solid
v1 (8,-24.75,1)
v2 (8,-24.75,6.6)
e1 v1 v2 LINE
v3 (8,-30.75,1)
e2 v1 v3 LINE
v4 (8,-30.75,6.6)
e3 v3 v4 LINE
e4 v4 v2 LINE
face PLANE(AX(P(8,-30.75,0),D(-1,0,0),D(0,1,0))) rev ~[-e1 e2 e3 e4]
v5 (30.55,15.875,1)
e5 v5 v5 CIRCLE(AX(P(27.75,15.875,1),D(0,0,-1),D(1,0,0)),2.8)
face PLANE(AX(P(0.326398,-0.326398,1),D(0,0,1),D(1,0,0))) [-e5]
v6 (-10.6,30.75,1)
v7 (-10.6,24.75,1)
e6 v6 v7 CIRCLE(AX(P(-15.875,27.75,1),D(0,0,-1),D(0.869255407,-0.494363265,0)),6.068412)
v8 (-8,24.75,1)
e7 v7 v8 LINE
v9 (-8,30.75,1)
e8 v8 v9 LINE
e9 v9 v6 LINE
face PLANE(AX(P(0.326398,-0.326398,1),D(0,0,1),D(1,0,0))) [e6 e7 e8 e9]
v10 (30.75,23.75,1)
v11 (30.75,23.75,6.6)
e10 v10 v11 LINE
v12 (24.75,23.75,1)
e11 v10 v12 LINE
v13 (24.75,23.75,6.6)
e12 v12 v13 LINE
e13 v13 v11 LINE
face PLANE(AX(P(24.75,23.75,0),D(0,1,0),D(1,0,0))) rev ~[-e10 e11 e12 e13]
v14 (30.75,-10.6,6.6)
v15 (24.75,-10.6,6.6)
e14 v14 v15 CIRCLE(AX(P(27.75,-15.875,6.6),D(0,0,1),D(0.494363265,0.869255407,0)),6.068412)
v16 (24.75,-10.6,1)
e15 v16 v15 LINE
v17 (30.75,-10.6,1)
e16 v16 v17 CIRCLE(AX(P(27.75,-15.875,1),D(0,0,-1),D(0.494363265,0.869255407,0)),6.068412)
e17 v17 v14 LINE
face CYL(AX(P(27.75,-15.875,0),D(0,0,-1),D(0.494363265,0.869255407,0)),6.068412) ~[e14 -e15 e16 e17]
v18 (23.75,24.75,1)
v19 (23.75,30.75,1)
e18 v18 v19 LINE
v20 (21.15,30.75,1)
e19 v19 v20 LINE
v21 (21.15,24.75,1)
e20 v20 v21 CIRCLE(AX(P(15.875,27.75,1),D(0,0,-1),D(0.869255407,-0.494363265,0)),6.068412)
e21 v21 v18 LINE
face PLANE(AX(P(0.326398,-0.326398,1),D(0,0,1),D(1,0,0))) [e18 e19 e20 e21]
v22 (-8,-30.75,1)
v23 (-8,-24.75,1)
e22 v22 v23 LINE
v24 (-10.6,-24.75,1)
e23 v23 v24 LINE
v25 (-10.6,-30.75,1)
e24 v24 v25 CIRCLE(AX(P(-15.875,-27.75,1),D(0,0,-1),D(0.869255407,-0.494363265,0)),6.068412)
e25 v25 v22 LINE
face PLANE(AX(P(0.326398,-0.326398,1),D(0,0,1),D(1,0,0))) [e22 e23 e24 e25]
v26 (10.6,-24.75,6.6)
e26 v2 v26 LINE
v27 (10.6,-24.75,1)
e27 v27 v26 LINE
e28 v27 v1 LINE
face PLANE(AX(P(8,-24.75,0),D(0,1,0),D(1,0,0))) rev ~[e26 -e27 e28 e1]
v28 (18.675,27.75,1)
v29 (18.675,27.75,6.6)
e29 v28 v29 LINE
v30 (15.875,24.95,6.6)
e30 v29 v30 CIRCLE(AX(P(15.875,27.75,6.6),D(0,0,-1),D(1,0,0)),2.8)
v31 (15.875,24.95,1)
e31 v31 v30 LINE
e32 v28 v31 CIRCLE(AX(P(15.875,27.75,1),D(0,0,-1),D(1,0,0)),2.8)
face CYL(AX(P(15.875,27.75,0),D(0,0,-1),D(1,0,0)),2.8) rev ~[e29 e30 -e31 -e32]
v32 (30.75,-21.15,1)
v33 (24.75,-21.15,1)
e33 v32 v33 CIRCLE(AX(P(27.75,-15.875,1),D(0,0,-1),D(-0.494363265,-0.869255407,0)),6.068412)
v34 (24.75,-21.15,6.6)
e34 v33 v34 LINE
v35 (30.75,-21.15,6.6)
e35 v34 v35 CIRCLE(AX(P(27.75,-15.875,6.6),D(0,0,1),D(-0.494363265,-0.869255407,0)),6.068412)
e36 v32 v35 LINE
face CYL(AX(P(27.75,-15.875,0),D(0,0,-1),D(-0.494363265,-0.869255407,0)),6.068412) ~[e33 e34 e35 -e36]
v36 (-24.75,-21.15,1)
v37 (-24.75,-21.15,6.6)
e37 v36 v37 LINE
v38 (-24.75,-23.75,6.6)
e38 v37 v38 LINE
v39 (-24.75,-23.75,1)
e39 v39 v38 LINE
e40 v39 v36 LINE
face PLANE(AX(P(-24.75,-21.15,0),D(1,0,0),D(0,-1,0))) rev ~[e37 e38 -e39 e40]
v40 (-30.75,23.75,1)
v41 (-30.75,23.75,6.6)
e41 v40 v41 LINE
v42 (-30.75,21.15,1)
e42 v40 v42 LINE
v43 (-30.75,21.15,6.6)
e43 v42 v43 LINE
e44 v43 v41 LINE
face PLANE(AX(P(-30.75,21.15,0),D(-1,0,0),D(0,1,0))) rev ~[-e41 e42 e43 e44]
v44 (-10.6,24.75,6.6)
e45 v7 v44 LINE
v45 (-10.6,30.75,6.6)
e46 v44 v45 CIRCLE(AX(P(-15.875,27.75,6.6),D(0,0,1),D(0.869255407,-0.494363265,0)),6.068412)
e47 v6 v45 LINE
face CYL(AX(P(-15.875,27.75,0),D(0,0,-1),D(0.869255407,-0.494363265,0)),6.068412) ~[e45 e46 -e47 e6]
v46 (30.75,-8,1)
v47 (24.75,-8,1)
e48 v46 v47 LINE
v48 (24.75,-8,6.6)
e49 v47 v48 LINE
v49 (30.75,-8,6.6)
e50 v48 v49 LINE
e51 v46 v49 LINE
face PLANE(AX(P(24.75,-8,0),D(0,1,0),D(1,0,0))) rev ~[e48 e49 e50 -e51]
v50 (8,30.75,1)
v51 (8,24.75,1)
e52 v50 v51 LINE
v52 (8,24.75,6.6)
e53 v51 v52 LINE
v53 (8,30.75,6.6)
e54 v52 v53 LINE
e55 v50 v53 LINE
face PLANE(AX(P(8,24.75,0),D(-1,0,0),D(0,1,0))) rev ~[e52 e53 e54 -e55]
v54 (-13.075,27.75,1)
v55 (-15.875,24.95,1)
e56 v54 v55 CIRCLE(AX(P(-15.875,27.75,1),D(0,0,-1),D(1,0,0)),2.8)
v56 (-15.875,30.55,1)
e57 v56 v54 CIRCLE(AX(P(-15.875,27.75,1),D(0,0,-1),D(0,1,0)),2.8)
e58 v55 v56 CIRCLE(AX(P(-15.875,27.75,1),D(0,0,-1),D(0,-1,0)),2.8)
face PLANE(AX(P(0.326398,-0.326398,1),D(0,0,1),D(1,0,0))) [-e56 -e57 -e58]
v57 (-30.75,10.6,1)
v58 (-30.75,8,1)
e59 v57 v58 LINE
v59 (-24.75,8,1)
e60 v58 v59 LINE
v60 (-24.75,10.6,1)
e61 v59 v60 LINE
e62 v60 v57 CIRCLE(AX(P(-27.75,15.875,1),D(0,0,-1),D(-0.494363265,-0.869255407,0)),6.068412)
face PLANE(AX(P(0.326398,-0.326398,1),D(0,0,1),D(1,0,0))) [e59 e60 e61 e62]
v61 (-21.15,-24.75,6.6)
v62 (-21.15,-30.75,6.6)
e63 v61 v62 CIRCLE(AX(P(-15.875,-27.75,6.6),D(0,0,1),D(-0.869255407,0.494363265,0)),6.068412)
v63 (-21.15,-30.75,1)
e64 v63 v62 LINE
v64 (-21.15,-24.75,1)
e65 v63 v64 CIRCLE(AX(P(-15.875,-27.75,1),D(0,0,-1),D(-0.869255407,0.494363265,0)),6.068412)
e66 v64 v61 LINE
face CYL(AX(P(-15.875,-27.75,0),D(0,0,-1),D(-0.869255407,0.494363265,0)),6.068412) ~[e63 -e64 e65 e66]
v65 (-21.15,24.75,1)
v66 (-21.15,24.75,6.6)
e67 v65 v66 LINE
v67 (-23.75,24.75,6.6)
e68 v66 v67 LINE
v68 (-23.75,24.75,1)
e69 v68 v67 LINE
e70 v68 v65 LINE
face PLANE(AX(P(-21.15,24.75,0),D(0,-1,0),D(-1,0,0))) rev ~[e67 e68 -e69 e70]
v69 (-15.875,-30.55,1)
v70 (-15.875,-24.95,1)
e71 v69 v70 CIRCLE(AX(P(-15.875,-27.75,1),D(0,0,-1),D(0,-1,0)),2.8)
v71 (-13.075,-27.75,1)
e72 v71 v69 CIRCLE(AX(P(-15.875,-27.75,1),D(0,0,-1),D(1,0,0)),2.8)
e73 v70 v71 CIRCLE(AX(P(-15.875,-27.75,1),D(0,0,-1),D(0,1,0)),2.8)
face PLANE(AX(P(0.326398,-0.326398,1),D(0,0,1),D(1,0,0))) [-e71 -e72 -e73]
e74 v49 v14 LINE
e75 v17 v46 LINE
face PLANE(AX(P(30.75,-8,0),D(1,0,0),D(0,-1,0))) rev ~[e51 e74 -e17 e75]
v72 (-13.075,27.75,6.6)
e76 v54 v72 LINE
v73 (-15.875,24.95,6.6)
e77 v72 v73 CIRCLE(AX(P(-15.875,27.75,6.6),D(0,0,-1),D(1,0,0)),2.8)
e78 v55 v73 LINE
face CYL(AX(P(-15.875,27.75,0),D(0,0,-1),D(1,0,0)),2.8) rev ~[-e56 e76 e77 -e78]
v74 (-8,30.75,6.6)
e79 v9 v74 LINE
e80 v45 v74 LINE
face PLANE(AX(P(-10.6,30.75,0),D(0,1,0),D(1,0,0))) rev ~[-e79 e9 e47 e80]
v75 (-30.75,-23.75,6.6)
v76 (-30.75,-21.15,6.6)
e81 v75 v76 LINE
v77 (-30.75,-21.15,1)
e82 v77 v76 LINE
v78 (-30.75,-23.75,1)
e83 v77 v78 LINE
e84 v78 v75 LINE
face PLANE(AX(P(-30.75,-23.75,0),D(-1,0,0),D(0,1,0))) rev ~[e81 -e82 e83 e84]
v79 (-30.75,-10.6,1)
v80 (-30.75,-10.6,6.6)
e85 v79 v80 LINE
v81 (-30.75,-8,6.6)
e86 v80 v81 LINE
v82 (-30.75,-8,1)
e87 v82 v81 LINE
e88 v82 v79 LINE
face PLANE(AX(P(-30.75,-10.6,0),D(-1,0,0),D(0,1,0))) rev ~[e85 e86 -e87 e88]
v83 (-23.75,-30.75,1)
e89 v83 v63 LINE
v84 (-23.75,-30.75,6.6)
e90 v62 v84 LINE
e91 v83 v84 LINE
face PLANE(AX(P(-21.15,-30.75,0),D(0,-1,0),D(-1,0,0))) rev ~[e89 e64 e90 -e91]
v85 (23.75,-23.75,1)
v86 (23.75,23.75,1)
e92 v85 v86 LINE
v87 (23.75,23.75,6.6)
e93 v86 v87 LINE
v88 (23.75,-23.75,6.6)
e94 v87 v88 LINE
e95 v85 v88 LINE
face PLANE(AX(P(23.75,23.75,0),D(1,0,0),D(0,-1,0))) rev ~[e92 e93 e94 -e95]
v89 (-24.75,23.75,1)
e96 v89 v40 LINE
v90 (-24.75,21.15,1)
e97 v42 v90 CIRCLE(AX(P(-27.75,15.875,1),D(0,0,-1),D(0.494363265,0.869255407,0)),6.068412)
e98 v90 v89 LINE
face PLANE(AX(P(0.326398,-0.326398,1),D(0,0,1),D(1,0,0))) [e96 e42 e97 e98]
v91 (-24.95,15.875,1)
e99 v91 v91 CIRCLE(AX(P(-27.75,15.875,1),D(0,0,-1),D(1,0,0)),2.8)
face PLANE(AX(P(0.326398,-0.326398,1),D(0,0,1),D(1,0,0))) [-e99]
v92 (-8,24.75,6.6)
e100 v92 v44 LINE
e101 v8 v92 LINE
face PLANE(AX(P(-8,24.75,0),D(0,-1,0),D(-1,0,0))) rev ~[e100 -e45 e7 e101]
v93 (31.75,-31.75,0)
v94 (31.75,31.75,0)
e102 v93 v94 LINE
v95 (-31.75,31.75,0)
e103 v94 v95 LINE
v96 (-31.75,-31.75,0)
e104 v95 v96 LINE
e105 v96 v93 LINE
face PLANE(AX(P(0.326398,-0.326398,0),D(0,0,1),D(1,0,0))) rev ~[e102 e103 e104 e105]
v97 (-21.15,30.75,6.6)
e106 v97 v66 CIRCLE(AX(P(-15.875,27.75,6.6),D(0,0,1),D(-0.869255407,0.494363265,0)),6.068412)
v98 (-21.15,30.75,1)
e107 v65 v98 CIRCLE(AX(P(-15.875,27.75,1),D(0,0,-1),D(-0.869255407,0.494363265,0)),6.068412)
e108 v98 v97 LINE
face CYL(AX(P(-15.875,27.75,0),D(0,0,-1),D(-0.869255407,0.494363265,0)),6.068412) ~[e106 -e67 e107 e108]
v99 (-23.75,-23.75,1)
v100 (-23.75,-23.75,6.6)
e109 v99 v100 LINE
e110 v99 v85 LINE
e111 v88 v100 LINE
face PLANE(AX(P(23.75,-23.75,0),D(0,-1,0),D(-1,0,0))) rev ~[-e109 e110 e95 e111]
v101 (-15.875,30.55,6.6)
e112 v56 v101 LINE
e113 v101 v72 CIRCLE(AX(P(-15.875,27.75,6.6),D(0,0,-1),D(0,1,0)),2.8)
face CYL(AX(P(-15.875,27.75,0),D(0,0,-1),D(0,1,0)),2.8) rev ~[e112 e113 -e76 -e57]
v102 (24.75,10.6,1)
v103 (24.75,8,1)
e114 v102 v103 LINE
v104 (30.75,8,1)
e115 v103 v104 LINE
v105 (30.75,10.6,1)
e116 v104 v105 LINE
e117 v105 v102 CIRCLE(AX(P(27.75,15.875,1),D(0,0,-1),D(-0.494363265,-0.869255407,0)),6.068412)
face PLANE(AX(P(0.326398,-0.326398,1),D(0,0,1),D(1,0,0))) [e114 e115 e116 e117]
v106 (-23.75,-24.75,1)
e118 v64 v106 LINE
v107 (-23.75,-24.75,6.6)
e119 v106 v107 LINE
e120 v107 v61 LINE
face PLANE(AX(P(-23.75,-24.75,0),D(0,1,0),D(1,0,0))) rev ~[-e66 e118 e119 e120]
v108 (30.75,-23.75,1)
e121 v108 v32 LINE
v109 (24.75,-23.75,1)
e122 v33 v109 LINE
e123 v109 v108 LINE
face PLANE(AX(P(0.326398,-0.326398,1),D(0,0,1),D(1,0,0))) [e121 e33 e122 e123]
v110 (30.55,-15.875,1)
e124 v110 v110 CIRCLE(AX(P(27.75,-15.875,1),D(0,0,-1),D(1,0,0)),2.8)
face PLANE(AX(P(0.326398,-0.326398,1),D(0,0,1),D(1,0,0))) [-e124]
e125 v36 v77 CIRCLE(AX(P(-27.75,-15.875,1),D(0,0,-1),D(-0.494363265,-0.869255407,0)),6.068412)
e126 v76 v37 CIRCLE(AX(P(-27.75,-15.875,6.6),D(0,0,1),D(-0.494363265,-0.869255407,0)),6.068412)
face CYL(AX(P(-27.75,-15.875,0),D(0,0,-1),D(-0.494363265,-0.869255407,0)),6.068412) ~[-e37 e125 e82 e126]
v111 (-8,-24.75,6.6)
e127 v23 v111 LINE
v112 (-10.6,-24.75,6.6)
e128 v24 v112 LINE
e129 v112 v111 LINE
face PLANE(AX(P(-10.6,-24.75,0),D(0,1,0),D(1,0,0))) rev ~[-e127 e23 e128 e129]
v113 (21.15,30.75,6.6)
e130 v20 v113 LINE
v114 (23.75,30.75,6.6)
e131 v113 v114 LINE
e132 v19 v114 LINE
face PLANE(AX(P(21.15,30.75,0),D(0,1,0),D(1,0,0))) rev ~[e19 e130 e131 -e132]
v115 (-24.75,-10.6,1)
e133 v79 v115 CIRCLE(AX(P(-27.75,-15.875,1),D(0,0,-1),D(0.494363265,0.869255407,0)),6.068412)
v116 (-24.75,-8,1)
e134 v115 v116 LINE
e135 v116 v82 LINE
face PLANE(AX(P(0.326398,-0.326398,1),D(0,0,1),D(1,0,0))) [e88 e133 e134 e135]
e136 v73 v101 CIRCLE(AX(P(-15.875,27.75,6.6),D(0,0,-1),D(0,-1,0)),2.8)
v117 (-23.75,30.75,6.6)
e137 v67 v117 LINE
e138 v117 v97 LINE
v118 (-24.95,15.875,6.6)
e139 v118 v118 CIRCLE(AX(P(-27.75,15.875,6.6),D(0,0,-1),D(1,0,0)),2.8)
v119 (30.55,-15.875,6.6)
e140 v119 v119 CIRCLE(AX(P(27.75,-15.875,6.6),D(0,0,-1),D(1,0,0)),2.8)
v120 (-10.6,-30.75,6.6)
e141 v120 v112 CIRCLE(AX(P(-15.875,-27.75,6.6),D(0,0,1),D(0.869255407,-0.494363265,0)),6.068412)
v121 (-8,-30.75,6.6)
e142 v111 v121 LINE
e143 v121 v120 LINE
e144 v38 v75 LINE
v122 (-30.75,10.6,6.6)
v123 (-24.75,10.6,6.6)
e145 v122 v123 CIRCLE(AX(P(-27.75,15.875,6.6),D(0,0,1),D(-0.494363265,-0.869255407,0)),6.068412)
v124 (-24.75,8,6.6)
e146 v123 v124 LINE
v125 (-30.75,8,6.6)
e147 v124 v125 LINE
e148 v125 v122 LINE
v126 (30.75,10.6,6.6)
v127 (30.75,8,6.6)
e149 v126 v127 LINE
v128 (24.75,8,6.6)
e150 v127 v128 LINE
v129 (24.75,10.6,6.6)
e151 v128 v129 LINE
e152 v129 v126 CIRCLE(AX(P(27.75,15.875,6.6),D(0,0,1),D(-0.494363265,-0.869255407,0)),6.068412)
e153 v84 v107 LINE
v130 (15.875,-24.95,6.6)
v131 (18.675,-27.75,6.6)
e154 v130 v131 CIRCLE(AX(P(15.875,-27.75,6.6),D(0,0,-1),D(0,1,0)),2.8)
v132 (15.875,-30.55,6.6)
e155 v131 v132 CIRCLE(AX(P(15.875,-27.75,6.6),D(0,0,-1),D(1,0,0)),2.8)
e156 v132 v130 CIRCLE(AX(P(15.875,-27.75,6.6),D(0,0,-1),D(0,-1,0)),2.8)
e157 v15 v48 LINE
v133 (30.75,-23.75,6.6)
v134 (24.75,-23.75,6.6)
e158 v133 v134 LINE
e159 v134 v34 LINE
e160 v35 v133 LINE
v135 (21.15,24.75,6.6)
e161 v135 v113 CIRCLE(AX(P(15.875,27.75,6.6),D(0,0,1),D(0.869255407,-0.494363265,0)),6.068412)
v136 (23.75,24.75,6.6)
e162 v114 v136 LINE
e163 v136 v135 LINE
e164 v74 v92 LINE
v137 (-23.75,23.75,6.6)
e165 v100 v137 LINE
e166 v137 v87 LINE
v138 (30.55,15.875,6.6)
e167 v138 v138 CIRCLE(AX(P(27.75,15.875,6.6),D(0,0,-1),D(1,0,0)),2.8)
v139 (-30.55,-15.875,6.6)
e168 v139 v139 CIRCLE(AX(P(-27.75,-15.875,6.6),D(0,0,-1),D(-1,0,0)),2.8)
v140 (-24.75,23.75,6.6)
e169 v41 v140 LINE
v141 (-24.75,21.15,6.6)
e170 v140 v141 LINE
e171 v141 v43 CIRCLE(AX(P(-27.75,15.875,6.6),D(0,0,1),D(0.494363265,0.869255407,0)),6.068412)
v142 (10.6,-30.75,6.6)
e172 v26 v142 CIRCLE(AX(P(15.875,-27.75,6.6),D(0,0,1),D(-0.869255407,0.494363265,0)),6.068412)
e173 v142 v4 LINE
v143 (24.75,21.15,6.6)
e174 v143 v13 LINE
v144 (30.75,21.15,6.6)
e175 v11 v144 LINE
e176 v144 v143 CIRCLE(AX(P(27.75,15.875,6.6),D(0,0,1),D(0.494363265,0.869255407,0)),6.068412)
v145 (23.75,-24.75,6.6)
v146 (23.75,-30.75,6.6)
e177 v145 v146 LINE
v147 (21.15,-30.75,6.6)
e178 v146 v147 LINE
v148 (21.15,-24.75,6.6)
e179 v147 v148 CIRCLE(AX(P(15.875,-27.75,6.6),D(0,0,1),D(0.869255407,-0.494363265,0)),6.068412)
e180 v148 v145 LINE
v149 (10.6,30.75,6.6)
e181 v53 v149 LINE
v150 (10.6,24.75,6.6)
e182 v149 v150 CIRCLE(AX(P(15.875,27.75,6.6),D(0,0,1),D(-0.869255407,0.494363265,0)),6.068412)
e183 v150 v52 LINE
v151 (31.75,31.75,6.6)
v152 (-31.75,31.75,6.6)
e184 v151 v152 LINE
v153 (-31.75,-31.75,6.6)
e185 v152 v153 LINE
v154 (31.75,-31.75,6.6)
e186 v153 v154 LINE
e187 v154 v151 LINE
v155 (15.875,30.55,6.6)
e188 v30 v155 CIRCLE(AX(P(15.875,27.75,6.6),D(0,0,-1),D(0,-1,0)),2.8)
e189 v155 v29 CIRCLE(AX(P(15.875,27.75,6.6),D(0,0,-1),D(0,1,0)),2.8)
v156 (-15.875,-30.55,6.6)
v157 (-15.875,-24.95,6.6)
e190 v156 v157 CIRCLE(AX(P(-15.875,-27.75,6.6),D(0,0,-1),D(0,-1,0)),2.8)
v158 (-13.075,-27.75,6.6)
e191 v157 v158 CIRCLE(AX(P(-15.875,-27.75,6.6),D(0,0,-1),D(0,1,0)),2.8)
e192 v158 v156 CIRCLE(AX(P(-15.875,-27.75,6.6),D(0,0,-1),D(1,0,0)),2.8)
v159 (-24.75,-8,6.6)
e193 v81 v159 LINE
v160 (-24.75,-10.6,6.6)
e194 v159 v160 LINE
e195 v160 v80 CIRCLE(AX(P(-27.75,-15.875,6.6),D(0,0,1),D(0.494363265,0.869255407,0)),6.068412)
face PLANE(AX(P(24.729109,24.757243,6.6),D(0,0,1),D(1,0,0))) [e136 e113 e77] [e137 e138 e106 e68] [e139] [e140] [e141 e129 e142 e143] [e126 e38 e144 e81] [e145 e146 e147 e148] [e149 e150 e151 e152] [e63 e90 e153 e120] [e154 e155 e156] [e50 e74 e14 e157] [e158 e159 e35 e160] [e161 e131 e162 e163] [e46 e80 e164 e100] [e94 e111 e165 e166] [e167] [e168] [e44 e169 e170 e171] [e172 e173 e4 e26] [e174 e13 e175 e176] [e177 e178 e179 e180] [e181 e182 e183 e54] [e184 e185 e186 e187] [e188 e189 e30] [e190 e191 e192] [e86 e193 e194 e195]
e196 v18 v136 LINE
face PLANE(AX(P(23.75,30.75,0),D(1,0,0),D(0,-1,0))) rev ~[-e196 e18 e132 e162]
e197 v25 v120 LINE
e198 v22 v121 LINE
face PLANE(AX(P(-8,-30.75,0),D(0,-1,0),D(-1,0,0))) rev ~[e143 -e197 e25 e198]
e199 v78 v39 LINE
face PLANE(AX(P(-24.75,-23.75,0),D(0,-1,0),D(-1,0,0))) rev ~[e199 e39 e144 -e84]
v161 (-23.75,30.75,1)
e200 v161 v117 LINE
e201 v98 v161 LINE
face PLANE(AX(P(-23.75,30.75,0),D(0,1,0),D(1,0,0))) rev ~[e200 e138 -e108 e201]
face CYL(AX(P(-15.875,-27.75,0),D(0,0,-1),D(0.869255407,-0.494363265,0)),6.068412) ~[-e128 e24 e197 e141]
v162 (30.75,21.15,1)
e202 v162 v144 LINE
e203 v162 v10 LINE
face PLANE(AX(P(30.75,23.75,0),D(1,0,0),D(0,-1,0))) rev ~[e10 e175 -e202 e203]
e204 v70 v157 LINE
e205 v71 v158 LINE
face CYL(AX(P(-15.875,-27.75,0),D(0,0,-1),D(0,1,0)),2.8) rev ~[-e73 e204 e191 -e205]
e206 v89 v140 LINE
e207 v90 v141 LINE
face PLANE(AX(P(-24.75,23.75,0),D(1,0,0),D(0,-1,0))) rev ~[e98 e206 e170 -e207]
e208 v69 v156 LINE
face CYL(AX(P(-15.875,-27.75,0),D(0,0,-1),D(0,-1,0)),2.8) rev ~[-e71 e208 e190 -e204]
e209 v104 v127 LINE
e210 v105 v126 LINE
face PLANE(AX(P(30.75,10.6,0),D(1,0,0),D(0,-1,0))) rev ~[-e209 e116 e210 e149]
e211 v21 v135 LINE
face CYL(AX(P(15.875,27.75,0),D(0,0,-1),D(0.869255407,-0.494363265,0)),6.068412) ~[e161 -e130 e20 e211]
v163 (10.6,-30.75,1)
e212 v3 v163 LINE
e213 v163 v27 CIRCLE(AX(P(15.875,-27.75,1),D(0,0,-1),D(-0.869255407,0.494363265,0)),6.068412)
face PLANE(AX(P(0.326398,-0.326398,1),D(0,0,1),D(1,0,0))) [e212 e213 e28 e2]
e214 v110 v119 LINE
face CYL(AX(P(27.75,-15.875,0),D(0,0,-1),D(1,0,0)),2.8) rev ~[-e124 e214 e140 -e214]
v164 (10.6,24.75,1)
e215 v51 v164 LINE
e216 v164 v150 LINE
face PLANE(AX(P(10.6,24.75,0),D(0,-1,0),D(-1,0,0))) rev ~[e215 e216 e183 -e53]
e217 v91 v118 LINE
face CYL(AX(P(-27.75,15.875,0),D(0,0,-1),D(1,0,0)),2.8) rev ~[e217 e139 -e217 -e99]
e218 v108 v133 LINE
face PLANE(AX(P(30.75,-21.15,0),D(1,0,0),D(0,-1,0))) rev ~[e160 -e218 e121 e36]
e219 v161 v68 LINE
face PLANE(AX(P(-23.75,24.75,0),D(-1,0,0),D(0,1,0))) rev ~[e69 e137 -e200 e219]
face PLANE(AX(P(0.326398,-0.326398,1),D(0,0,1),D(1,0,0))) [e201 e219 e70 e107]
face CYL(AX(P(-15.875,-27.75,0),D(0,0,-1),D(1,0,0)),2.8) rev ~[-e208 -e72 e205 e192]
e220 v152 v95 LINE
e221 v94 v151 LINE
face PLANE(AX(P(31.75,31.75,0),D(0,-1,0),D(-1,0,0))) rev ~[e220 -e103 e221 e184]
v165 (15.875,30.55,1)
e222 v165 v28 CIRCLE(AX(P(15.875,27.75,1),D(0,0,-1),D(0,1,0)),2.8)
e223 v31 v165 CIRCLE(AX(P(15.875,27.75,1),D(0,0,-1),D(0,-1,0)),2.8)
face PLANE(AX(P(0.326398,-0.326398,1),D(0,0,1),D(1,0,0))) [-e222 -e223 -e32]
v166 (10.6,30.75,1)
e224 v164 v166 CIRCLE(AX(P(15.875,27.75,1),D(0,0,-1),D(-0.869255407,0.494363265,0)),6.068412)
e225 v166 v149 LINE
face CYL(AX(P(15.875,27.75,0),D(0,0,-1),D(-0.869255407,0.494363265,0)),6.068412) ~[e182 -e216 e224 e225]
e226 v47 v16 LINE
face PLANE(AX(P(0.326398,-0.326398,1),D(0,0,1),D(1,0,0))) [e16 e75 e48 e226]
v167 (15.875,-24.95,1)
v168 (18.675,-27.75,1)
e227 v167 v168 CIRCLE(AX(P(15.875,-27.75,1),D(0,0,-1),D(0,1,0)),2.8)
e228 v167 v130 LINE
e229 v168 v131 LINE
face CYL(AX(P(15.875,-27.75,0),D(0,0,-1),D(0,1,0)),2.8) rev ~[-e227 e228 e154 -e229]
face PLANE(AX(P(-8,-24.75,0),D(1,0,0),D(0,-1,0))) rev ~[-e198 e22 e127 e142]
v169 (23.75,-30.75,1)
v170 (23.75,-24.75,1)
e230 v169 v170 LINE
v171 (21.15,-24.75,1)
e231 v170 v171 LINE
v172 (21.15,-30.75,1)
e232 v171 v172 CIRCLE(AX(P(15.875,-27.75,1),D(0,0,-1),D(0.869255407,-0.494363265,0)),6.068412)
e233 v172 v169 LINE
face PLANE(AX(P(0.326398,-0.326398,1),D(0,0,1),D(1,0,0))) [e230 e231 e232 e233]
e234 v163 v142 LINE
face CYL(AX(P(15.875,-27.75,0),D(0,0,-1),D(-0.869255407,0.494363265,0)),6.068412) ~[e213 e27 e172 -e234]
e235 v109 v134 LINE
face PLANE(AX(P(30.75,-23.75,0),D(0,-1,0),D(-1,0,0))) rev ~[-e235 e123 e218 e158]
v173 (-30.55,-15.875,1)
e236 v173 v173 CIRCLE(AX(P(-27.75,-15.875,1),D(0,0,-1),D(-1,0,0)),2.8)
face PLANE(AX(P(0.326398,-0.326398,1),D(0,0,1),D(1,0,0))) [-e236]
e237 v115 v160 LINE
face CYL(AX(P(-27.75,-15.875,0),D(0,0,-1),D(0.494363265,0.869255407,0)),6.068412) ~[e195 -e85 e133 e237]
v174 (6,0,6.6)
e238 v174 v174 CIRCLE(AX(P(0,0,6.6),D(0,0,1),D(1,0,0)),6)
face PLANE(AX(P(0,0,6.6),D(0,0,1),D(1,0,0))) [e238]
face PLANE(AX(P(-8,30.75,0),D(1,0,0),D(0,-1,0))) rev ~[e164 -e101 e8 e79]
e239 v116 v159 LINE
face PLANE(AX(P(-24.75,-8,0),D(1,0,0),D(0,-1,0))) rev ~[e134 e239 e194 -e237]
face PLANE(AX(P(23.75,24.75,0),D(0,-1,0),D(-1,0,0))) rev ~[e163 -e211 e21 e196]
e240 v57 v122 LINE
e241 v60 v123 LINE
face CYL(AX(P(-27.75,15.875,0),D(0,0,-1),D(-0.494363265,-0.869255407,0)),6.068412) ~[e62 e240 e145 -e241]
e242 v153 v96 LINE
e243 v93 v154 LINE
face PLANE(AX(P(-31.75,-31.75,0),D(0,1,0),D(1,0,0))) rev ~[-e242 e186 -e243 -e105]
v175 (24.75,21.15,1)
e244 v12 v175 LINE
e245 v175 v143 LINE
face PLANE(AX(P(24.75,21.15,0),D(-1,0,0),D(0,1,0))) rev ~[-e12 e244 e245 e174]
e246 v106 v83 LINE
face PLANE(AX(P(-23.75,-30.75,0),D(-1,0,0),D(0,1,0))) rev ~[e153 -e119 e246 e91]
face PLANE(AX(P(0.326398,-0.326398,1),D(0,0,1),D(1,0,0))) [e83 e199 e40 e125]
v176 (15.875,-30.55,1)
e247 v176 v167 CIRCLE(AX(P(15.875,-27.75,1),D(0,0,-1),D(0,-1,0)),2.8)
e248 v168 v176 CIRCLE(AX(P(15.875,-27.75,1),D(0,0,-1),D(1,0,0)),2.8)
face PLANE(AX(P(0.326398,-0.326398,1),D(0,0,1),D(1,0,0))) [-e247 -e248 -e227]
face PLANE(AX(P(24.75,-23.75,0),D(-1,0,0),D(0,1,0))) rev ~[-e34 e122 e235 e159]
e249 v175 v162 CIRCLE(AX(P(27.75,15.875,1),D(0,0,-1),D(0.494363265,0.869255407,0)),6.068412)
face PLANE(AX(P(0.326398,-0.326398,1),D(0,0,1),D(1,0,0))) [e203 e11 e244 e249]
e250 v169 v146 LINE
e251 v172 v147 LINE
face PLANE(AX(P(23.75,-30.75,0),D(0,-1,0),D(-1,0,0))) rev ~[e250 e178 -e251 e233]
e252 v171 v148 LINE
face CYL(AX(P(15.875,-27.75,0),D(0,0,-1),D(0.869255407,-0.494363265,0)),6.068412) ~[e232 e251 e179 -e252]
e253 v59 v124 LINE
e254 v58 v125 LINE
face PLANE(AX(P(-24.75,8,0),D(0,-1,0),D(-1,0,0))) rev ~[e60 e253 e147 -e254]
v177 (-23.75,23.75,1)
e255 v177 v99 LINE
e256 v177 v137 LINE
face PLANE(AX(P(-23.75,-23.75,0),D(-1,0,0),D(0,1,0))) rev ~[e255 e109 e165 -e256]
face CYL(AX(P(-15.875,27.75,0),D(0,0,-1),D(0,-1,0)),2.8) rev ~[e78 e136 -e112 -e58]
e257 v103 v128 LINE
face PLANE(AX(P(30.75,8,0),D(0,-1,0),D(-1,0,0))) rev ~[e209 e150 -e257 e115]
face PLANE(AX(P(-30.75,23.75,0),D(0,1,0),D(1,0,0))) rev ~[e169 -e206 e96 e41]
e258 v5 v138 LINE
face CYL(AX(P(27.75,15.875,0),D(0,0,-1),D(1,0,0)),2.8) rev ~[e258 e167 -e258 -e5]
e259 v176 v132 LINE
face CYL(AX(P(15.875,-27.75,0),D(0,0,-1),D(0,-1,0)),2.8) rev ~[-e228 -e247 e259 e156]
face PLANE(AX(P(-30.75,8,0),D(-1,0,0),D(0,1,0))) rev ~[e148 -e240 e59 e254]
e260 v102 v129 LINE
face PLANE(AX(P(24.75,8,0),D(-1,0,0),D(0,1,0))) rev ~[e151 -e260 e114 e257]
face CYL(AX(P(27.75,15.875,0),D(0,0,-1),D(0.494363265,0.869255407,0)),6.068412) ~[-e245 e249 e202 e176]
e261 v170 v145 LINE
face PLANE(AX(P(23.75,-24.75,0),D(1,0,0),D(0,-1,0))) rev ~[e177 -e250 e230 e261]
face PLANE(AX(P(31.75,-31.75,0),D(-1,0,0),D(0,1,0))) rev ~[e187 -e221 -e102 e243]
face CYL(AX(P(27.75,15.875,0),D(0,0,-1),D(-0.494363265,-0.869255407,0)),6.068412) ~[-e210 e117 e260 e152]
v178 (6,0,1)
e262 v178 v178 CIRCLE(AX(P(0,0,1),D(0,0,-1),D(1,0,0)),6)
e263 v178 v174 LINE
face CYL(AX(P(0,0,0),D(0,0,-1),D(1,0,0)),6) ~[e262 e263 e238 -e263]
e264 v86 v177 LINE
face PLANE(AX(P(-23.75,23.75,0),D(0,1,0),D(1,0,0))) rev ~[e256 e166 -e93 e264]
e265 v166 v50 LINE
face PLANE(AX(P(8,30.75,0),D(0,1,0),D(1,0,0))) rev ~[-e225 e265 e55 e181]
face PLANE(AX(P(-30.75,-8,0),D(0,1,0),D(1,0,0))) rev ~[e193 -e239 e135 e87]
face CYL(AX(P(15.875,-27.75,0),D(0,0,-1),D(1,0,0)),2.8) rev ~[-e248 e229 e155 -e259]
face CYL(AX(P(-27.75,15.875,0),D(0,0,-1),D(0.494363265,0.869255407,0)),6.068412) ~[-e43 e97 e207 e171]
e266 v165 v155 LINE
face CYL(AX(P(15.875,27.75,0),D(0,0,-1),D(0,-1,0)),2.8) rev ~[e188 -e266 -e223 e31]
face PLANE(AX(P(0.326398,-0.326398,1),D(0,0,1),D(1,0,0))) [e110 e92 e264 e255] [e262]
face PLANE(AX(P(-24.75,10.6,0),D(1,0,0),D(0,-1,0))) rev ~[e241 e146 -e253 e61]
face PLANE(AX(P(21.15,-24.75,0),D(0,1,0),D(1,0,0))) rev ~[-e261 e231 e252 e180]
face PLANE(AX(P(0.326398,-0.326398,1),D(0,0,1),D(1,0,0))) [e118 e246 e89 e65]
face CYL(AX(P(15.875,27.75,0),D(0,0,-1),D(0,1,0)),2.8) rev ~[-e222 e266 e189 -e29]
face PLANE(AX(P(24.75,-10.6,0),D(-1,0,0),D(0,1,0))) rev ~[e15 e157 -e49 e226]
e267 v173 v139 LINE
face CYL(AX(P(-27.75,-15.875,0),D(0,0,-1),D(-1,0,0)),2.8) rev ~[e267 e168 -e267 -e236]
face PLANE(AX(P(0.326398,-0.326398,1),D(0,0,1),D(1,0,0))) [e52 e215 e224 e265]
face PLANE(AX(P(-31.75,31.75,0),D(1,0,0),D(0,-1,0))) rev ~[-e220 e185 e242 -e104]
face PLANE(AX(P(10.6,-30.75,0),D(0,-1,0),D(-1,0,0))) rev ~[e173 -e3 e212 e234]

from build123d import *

# Parameters (mm, degrees)
F0_R     = 6
F0_W     = 7.875
F0_H     = 7.875
F1_DEPTH = 1
F2_DEPTH = 6.6


with BuildPart() as f1:
    # F0 (on Top) → F1 (new body)
    with BuildSketch(Plane.XY):
        Polygon((15.875, 23.75), (0, 23.75), (-15.875, 23.75), (-15.875, 15.875), (-23.75, 15.875), (-23.75, -15.875), (-23.75, -23.75), (-15.875, -23.75), (15.875, -23.75), (23.75, -23.75), (23.75, -15.875), (23.75, 15.875), (23.75, 23.75), align=None)
        Circle(F0_R, mode=Mode.SUBTRACT)
        with BuildLine():
            Line((-23.75, -15.875), (-23.75, 15.875))
            Line((-23.75, 15.875), (-24.95, 15.875))
            ThreePointArc((-24.95, 15.875), (-27.75, 13.075), (-30.55, 15.875))
            Line((-30.55, 15.875), (-31.75, 15.875))
            Line((-31.75, 15.875), (-31.75, -15.875))
            Line((-31.75, -15.875), (-30.55, -15.875))
            ThreePointArc((-30.55, -15.875), (-27.75, -13.075), (-24.95, -15.875))
            Line((-24.95, -15.875), (-23.75, -15.875))
        make_face()
        with BuildLine():
            Line((-24.75, -8), (-24.75, -10.6))
            ThreePointArc((-24.75, -10.6), (-27.75, -9.8065879342), (-30.75, -10.6))
            Line((-30.75, -10.6), (-30.75, -8))
            Line((-30.75, -8), (-24.75, -8))
        make_face(mode=Mode.SUBTRACT)
        with BuildLine():
            ThreePointArc((-30.75, 10.6), (-27.75, 9.8065879342), (-24.75, 10.6))
            Line((-24.75, 10.6), (-24.75, 8))
            Line((-24.75, 8), (-30.75, 8))
            Line((-30.75, 8), (-30.75, 10.6))
        make_face(mode=Mode.SUBTRACT)
        with BuildLine():
            Line((-15.875, -31.75), (15.875, -31.75))
            Line((15.875, -31.75), (15.875, -30.55))
            ThreePointArc((15.875, -30.55), (13.075, -27.75), (15.875, -24.95))
            Line((15.875, -24.95), (15.875, -23.75))
            Line((15.875, -23.75), (-15.875, -23.75))
            Line((-15.875, -23.75), (-15.875, -24.95))
            ThreePointArc((-15.875, -24.95), (-13.8951010127, -25.7701010127), (-13.075, -27.75))
            ThreePointArc((-13.075, -27.75), (-13.8951010127, -29.7298989873), (-15.875, -30.55))
            Line((-15.875, -30.55), (-15.875, -31.75))
        make_face()
        with BuildLine():
            Line((-8, -30.75), (-10.6, -30.75))
            ThreePointArc((-10.6, -30.75), (-9.8065879342, -27.75), (-10.6, -24.75))
            Line((-10.6, -24.75), (-8, -24.75))
            Line((-8, -24.75), (-8, -30.75))
        make_face(mode=Mode.SUBTRACT)
        with BuildLine():
            Line((8, -30.75), (8, -24.75))
            Line((8, -24.75), (10.6, -24.75))
            ThreePointArc((10.6, -24.75), (9.8065879342, -27.75), (10.6, -30.75))
            Line((10.6, -30.75), (8, -30.75))
        make_face(mode=Mode.SUBTRACT)
        with BuildLine():
            Line((31.75, -15.875), (31.75, 15.875))
            Line((31.75, 15.875), (30.55, 15.875))
            ThreePointArc((30.55, 15.875), (27.75, 13.075), (24.95, 15.875))
            Line((24.95, 15.875), (23.75, 15.875))
            Line((23.75, 15.875), (23.75, -15.875))
            Line((23.75, -15.875), (24.95, -15.875))
            ThreePointArc((24.95, -15.875), (27.75, -13.075), (30.55, -15.875))
            Line((30.55, -15.875), (31.75, -15.875))
        make_face()
        with BuildLine():
            ThreePointArc((30.75, -10.6), (27.75, -9.8065879342), (24.75, -10.6))
            Line((24.75, -10.6), (24.75, -8))
            Line((24.75, -8), (30.75, -8))
            Line((30.75, -8), (30.75, -10.6))
        make_face(mode=Mode.SUBTRACT)
        with BuildLine():
            Line((24.75, 8), (24.75, 10.6))
            ThreePointArc((24.75, 10.6), (27.75, 9.8065879342), (30.75, 10.6))
            Line((30.75, 10.6), (30.75, 8))
            Line((30.75, 8), (24.75, 8))
        make_face(mode=Mode.SUBTRACT)
        with BuildLine():
            Line((-31.75, -31.75), (-15.875, -31.75))
            Line((-15.875, -31.75), (-15.875, -30.55))
            ThreePointArc((-15.875, -30.55), (-18.675, -27.75), (-15.875, -24.95))
            Line((-15.875, -24.95), (-15.875, -23.75))
            Line((-15.875, -23.75), (-23.75, -23.75))
            Line((-23.75, -23.75), (-23.75, -15.875))
            Line((-23.75, -15.875), (-24.95, -15.875))
            ThreePointArc((-24.95, -15.875), (-27.75, -18.675), (-30.55, -15.875))
            Line((-30.55, -15.875), (-31.75, -15.875))
            Line((-31.75, -15.875), (-31.75, -31.75))
        make_face()
        with BuildLine():
            Line((-23.75, -30.75), (-23.75, -24.75))
            Line((-23.75, -24.75), (-21.15, -24.75))
            ThreePointArc((-21.15, -24.75), (-21.9434120658, -27.75), (-21.15, -30.75))
            Line((-21.15, -30.75), (-23.75, -30.75))
        make_face(mode=Mode.SUBTRACT)
        with BuildLine():
            ThreePointArc((-30.75, -21.15), (-27.75, -21.9434120658), (-24.75, -21.15))
            Line((-24.75, -21.15), (-24.75, -23.75))
            Line((-24.75, -23.75), (-30.75, -23.75))
            Line((-30.75, -23.75), (-30.75, -21.15))
        make_face(mode=Mode.SUBTRACT)
        with BuildLine():
            Line((31.75, -31.75), (31.75, -15.875))
            Line((31.75, -15.875), (30.55, -15.875))
            ThreePointArc((30.55, -15.875), (27.75, -18.675), (24.95, -15.875))
            Line((24.95, -15.875), (23.75, -15.875))
            Line((23.75, -15.875), (23.75, -23.75))
            Line((23.75, -23.75), (15.875, -23.75))
            Line((15.875, -23.75), (15.875, -24.95))
            ThreePointArc((15.875, -24.95), (17.8548989873, -25.7701010127), (18.675, -27.75))
            ThreePointArc((18.675, -27.75), (17.8548989873, -29.7298989873), (15.875, -30.55))
            Line((15.875, -30.55), (15.875, -31.75))
            Line((15.875, -31.75), (31.75, -31.75))
        make_face()
        with BuildLine():
            Line((21.15, -24.75), (23.75, -24.75))
            Line((23.75, -24.75), (23.75, -30.75))
            Line((23.75, -30.75), (21.15, -30.75))
            ThreePointArc((21.15, -30.75), (21.9434120658, -27.75), (21.15, -24.75))
        make_face(mode=Mode.SUBTRACT)
        with BuildLine():
            Line((24.75, -23.75), (24.75, -21.15))
            ThreePointArc((24.75, -21.15), (27.75, -21.9434120658), (30.75, -21.15))
            Line((30.75, -21.15), (30.75, -23.75))
            Line((30.75, -23.75), (24.75, -23.75))
        make_face(mode=Mode.SUBTRACT)
        with BuildLine():
            Line((31.75, 15.875), (31.75, 31.75))
            Line((31.75, 31.75), (15.875, 31.75))
            Line((15.875, 31.75), (15.875, 30.55))
            ThreePointArc((15.875, 30.55), (17.8548989873, 29.7298989873), (18.675, 27.75))
            ThreePointArc((18.675, 27.75), (17.8548989873, 25.7701010127), (15.875, 24.95))
            Line((15.875, 24.95), (15.875, 23.75))
            Line((15.875, 23.75), (23.75, 23.75))
            Line((23.75, 23.75), (23.75, 15.875))
            Line((23.75, 15.875), (24.95, 15.875))
            ThreePointArc((24.95, 15.875), (27.75, 18.675), (30.55, 15.875))
            Line((30.55, 15.875), (31.75, 15.875))
        make_face()
        with BuildLine():
            ThreePointArc((30.75, 21.15), (27.75, 21.9434120658), (24.75, 21.15))
            Line((24.75, 21.15), (24.75, 23.75))
            Line((24.75, 23.75), (30.75, 23.75))
            Line((30.75, 23.75), (30.75, 21.15))
        make_face(mode=Mode.SUBTRACT)
        with BuildLine():
            ThreePointArc((21.15, 24.75), (21.9434120658, 27.75), (21.15, 30.75))
            Line((21.15, 30.75), (23.75, 30.75))
            Line((23.75, 30.75), (23.75, 24.75))
            Line((23.75, 24.75), (21.15, 24.75))
        make_face(mode=Mode.SUBTRACT)
        with BuildLine():
            Line((0, 23.75), (0, 31.75))
            Line((0, 31.75), (-15.875, 31.75))
            Line((-15.875, 31.75), (-15.875, 30.55))
            ThreePointArc((-15.875, 30.55), (-13.8951010127, 29.7298989873), (-13.075, 27.75))
            ThreePointArc((-13.075, 27.75), (-13.8951010127, 25.7701010127), (-15.875, 24.95))
            Line((-15.875, 24.95), (-15.875, 23.75))
            Line((-15.875, 23.75), (0, 23.75))
        make_face()
        with BuildLine():
            ThreePointArc((-10.6, 24.75), (-9.8065879342, 27.75), (-10.6, 30.75))
            Line((-10.6, 30.75), (-8, 30.75))
            Line((-8, 30.75), (-8, 24.75))
            Line((-8, 24.75), (-10.6, 24.75))
        make_face(mode=Mode.SUBTRACT)
        with BuildLine():
            Line((15.875, 30.55), (15.875, 31.75))
            Line((15.875, 31.75), (0, 31.75))
            Line((0, 31.75), (0, 23.75))
            Line((0, 23.75), (15.875, 23.75))
            Line((15.875, 23.75), (15.875, 24.95))
            ThreePointArc((15.875, 24.95), (13.075, 27.75), (15.875, 30.55))
        make_face()
        with BuildLine():
            Line((8, 24.75), (8, 30.75))
            Line((8, 30.75), (10.6, 30.75))
            ThreePointArc((10.6, 30.75), (9.8065879342, 27.75), (10.6, 24.75))
            Line((10.6, 24.75), (8, 24.75))
        make_face(mode=Mode.SUBTRACT)
        Circle(F0_R)
        Polygon((-23.75, 30.75), (-23.75, 31.75), (-31.75, 31.75), (-31.75, 23.75), (-30.75, 23.75), (-24.75, 23.75), (-23.75, 23.75), (-23.75, 24.75), align=None)
        with Locations((-19.8125, 19.8125)):
            Rectangle(F0_W, F0_H)
        with BuildLine():
            Line((-15.875, 30.55), (-15.875, 31.75))
            Line((-15.875, 31.75), (-23.75, 31.75))
            Line((-23.75, 31.75), (-23.75, 30.75))
            Line((-23.75, 30.75), (-21.15, 30.75))
            ThreePointArc((-21.15, 30.75), (-21.9434120658, 27.75), (-21.15, 24.75))
            Line((-21.15, 24.75), (-23.75, 24.75))
            Line((-23.75, 24.75), (-23.75, 23.75))
            Line((-23.75, 23.75), (-15.875, 23.75))
            Line((-15.875, 23.75), (-15.875, 24.95))
            ThreePointArc((-15.875, 24.95), (-18.675, 27.75), (-15.875, 30.55))
        make_face()
        with BuildLine():
            Line((-23.75, 15.875), (-23.75, 23.75))
            Line((-23.75, 23.75), (-24.75, 23.75))
            Line((-24.75, 23.75), (-24.75, 21.15))
            ThreePointArc((-24.75, 21.15), (-27.75, 21.9434120658), (-30.75, 21.15))
            Line((-30.75, 21.15), (-30.75, 23.75))
            Line((-30.75, 23.75), (-31.75, 23.75))
            Line((-31.75, 23.75), (-31.75, 15.875))
            Line((-31.75, 15.875), (-30.55, 15.875))
            ThreePointArc((-30.55, 15.875), (-27.75, 18.675), (-24.95, 15.875))
            Line((-24.95, 15.875), (-23.75, 15.875))
        make_face()
        with BuildLine():
            Line((-21.15, 30.75), (-23.75, 30.75))
            Line((-23.75, 30.75), (-23.75, 24.75))
            Line((-23.75, 24.75), (-21.15, 24.75))
            ThreePointArc((-21.15, 24.75), (-21.9434120658, 27.75), (-21.15, 30.75))
        make_face()
        with BuildLine():
            Line((-24.75, 21.15), (-24.75, 23.75))
            Line((-24.75, 23.75), (-30.75, 23.75))
            Line((-30.75, 23.75), (-30.75, 21.15))
            ThreePointArc((-30.75, 21.15), (-27.75, 21.9434120658), (-24.75, 21.15))
        make_face()
        with BuildLine():
            Line((-24.75, 8), (-24.75, 10.6))
            ThreePointArc((-24.75, 10.6), (-27.75, 9.8065879342), (-30.75, 10.6))
            Line((-30.75, 10.6), (-30.75, 8))
            Line((-30.75, 8), (-24.75, 8))
        make_face()
        with BuildLine():
            Line((-8, 30.75), (-10.6, 30.75))
            ThreePointArc((-10.6, 30.75), (-9.8065879342, 27.75), (-10.6, 24.75))
            Line((-10.6, 24.75), (-8, 24.75))
            Line((-8, 24.75), (-8, 30.75))
        make_face()
        with BuildLine():
            Line((10.6, 30.75), (8, 30.75))
            Line((8, 30.75), (8, 24.75))
            Line((8, 24.75), (10.6, 24.75))
            ThreePointArc((10.6, 24.75), (9.8065879342, 27.75), (10.6, 30.75))
        make_face()
        with BuildLine():
            Line((23.75, 30.75), (21.15, 30.75))
            ThreePointArc((21.15, 30.75), (21.9434120658, 27.75), (21.15, 24.75))
            Line((21.15, 24.75), (23.75, 24.75))
            Line((23.75, 24.75), (23.75, 30.75))
        make_face()
        with BuildLine():
            Line((24.75, 23.75), (24.75, 21.15))
            ThreePointArc((24.75, 21.15), (27.75, 21.9434120658), (30.75, 21.15))
            Line((30.75, 21.15), (30.75, 23.75))
            Line((30.75, 23.75), (24.75, 23.75))
        make_face()
        with BuildLine():
            ThreePointArc((30.75, 10.6), (27.75, 9.8065879342), (24.75, 10.6))
            Line((24.75, 10.6), (24.75, 8))
            Line((24.75, 8), (30.75, 8))
            Line((30.75, 8), (30.75, 10.6))
        make_face()
        with BuildLine():
            Line((23.75, -30.75), (23.75, -24.75))
            Line((23.75, -24.75), (21.15, -24.75))
            ThreePointArc((21.15, -24.75), (21.9434120658, -27.75), (21.15, -30.75))
            Line((21.15, -30.75), (23.75, -30.75))
        make_face()
        with BuildLine():
            Line((10.6, -24.75), (8, -24.75))
            Line((8, -24.75), (8, -30.75))
            Line((8, -30.75), (10.6, -30.75))
            ThreePointArc((10.6, -30.75), (9.8065879342, -27.75), (10.6, -24.75))
        make_face()
        with BuildLine():
            ThreePointArc((-10.6, -24.75), (-9.8065879342, -27.75), (-10.6, -30.75))
            Line((-10.6, -30.75), (-8, -30.75))
            Line((-8, -30.75), (-8, -24.75))
            Line((-8, -24.75), (-10.6, -24.75))
        make_face()
        with BuildLine():
            Line((-21.15, -24.75), (-23.75, -24.75))
            Line((-23.75, -24.75), (-23.75, -30.75))
            Line((-23.75, -30.75), (-21.15, -30.75))
            ThreePointArc((-21.15, -30.75), (-21.9434120658, -27.75), (-21.15, -24.75))
        make_face()
        with BuildLine():
            ThreePointArc((-30.75, -10.6), (-27.75, -9.8065879342), (-24.75, -10.6))
            Line((-24.75, -10.6), (-24.75, -8))
            Line((-24.75, -8), (-30.75, -8))
            Line((-30.75, -8), (-30.75, -10.6))
        make_face()
        with BuildLine():
            Line((-24.75, -23.75), (-24.75, -21.15))
            ThreePointArc((-24.75, -21.15), (-27.75, -21.9434120658), (-30.75, -21.15))
            Line((-30.75, -21.15), (-30.75, -23.75))
            Line((-30.75, -23.75), (-24.75, -23.75))
        make_face()
        with BuildLine():
            ThreePointArc((30.75, -21.15), (27.75, -21.9434120658), (24.75, -21.15))
            Line((24.75, -21.15), (24.75, -23.75))
            Line((24.75, -23.75), (30.75, -23.75))
            Line((30.75, -23.75), (30.75, -21.15))
        make_face()
        with BuildLine():
            Line((24.75, -8), (24.75, -10.6))
            ThreePointArc((24.75, -10.6), (27.75, -9.8065879342), (30.75, -10.6))
            Line((30.75, -10.6), (30.75, -8))
            Line((30.75, -8), (24.75, -8))
        make_face()
        with BuildLine():
            Line((-15.875, 24.95), (-15.875, 30.55))
            ThreePointArc((-15.875, 30.55), (-18.675, 27.75), (-15.875, 24.95))
        make_face()
        with BuildLine():
            ThreePointArc((-13.075, 27.75), (-13.8951010127, 29.7298989873), (-15.875, 30.55))
            Line((-15.875, 30.55), (-15.875, 24.95))
            ThreePointArc((-15.875, 24.95), (-13.8951010127, 25.7701010127), (-13.075, 27.75))
        make_face()
        with BuildLine():
            Line((15.875, 24.95), (15.875, 30.55))
            ThreePointArc((15.875, 30.55), (13.075, 27.75), (15.875, 24.95))
        make_face()
        with BuildLine():
            ThreePointArc((18.675, 27.75), (17.8548989873, 29.7298989873), (15.875, 30.55))
            Line((15.875, 30.55), (15.875, 24.95))
            ThreePointArc((15.875, 24.95), (17.8548989873, 25.7701010127), (18.675, 27.75))
        make_face()
        with BuildLine():
            Line((24.95, 15.875), (30.55, 15.875))
            ThreePointArc((30.55, 15.875), (27.75, 18.675), (24.95, 15.875))
        make_face()
        with BuildLine():
            ThreePointArc((24.95, 15.875), (27.75, 13.075), (30.55, 15.875))
            Line((30.55, 15.875), (24.95, 15.875))
        make_face()
        with BuildLine():
            Line((-30.55, 15.875), (-24.95, 15.875))
            ThreePointArc((-24.95, 15.875), (-27.75, 18.675), (-30.55, 15.875))
        make_face()
        with BuildLine():
            ThreePointArc((-30.55, 15.875), (-27.75, 13.075), (-24.95, 15.875))
            Line((-24.95, 15.875), (-30.55, 15.875))
        make_face()
        with BuildLine():
            Line((-30.55, -15.875), (-24.95, -15.875))
            ThreePointArc((-24.95, -15.875), (-27.75, -13.075), (-30.55, -15.875))
        make_face()
        with BuildLine():
            ThreePointArc((-30.55, -15.875), (-27.75, -18.675), (-24.95, -15.875))
            Line((-24.95, -15.875), (-30.55, -15.875))
        make_face()
        with BuildLine():
            ThreePointArc((-15.875, -24.95), (-18.675, -27.75), (-15.875, -30.55))
            Line((-15.875, -30.55), (-15.875, -24.95))
        make_face()
        with BuildLine():
            Line((-15.875, -24.95), (-15.875, -30.55))
            ThreePointArc((-15.875, -30.55), (-13.8951010127, -29.7298989873), (-13.075, -27.75))
            ThreePointArc((-13.075, -27.75), (-13.8951010127, -25.7701010127), (-15.875, -24.95))
        make_face()
        with BuildLine():
            Line((15.875, -24.95), (15.875, -30.55))
            ThreePointArc((15.875, -30.55), (17.8548989873, -29.7298989873), (18.675, -27.75))
            ThreePointArc((18.675, -27.75), (17.8548989873, -25.7701010127), (15.875, -24.95))
        make_face()
        with BuildLine():
            ThreePointArc((15.875, -24.95), (13.075, -27.75), (15.875, -30.55))
            Line((15.875, -30.55), (15.875, -24.95))
        make_face()
        with BuildLine():
            Line((24.95, -15.875), (30.55, -15.875))
            ThreePointArc((30.55, -15.875), (27.75, -13.075), (24.95, -15.875))
        make_face()
        with BuildLine():
            ThreePointArc((24.95, -15.875), (27.75, -18.675), (30.55, -15.875))
            Line((30.55, -15.875), (24.95, -15.875))
        make_face()
    extrude(amount=F1_DEPTH)

    # F0 (on Top) → F2 (join)
    with BuildSketch(Plane.XY):
        with BuildLine():
            Line((31.75, 15.875), (31.75, 31.75))
            Line((31.75, 31.75), (15.875, 31.75))
            Line((15.875, 31.75), (15.875, 30.55))
            ThreePointArc((15.875, 30.55), (17.8548989873, 29.7298989873), (18.675, 27.75))
            ThreePointArc((18.675, 27.75), (17.8548989873, 25.7701010127), (15.875, 24.95))
            Line((15.875, 24.95), (15.875, 23.75))
            Line((15.875, 23.75), (23.75, 23.75))
            Line((23.75, 23.75), (23.75, 15.875))
            Line((23.75, 15.875), (24.95, 15.875))
            ThreePointArc((24.95, 15.875), (27.75, 18.675), (30.55, 15.875))
            Line((30.55, 15.875), (31.75, 15.875))
        make_face()
        with BuildLine():
            ThreePointArc((30.75, 21.15), (27.75, 21.9434120658), (24.75, 21.15))
            Line((24.75, 21.15), (24.75, 23.75))
            Line((24.75, 23.75), (30.75, 23.75))
            Line((30.75, 23.75), (30.75, 21.15))
        make_face(mode=Mode.SUBTRACT)
        with BuildLine():
            ThreePointArc((21.15, 24.75), (21.9434120658, 27.75), (21.15, 30.75))
            Line((21.15, 30.75), (23.75, 30.75))
            Line((23.75, 30.75), (23.75, 24.75))
            Line((23.75, 24.75), (21.15, 24.75))
        make_face(mode=Mode.SUBTRACT)
        with BuildLine():
            Line((15.875, 30.55), (15.875, 31.75))
            Line((15.875, 31.75), (0, 31.75))
            Line((0, 31.75), (0, 23.75))
            Line((0, 23.75), (15.875, 23.75))
            Line((15.875, 23.75), (15.875, 24.95))
            ThreePointArc((15.875, 24.95), (13.075, 27.75), (15.875, 30.55))
        make_face()
        with BuildLine():
            Line((8, 24.75), (8, 30.75))
            Line((8, 30.75), (10.6, 30.75))
            ThreePointArc((10.6, 30.75), (9.8065879342, 27.75), (10.6, 24.75))
            Line((10.6, 24.75), (8, 24.75))
        make_face(mode=Mode.SUBTRACT)
        with BuildLine():
            Line((31.75, -15.875), (31.75, 15.875))
            Line((31.75, 15.875), (30.55, 15.875))
            ThreePointArc((30.55, 15.875), (27.75, 13.075), (24.95, 15.875))
            Line((24.95, 15.875), (23.75, 15.875))
            Line((23.75, 15.875), (23.75, -15.875))
            Line((23.75, -15.875), (24.95, -15.875))
            ThreePointArc((24.95, -15.875), (27.75, -13.075), (30.55, -15.875))
            Line((30.55, -15.875), (31.75, -15.875))
        make_face()
        with BuildLine():
            ThreePointArc((30.75, -10.6), (27.75, -9.8065879342), (24.75, -10.6))
            Line((24.75, -10.6), (24.75, -8))
            Line((24.75, -8), (30.75, -8))
            Line((30.75, -8), (30.75, -10.6))
        make_face(mode=Mode.SUBTRACT)
        with BuildLine():
            Line((24.75, 8), (24.75, 10.6))
            ThreePointArc((24.75, 10.6), (27.75, 9.8065879342), (30.75, 10.6))
            Line((30.75, 10.6), (30.75, 8))
            Line((30.75, 8), (24.75, 8))
        make_face(mode=Mode.SUBTRACT)
        with BuildLine():
            Line((0, 23.75), (0, 31.75))
            Line((0, 31.75), (-15.875, 31.75))
            Line((-15.875, 31.75), (-15.875, 30.55))
            ThreePointArc((-15.875, 30.55), (-13.8951010127, 29.7298989873), (-13.075, 27.75))
            ThreePointArc((-13.075, 27.75), (-13.8951010127, 25.7701010127), (-15.875, 24.95))
            Line((-15.875, 24.95), (-15.875, 23.75))
            Line((-15.875, 23.75), (0, 23.75))
        make_face()
        with BuildLine():
            ThreePointArc((-10.6, 24.75), (-9.8065879342, 27.75), (-10.6, 30.75))
            Line((-10.6, 30.75), (-8, 30.75))
            Line((-8, 30.75), (-8, 24.75))
            Line((-8, 24.75), (-10.6, 24.75))
        make_face(mode=Mode.SUBTRACT)
        with BuildLine():
            Line((31.75, -31.75), (31.75, -15.875))
            Line((31.75, -15.875), (30.55, -15.875))
            ThreePointArc((30.55, -15.875), (27.75, -18.675), (24.95, -15.875))
            Line((24.95, -15.875), (23.75, -15.875))
            Line((23.75, -15.875), (23.75, -23.75))
            Line((23.75, -23.75), (15.875, -23.75))
            Line((15.875, -23.75), (15.875, -24.95))
            ThreePointArc((15.875, -24.95), (17.8548989873, -25.7701010127), (18.675, -27.75))
            ThreePointArc((18.675, -27.75), (17.8548989873, -29.7298989873), (15.875, -30.55))
            Line((15.875, -30.55), (15.875, -31.75))
            Line((15.875, -31.75), (31.75, -31.75))
        make_face()
        with BuildLine():
            Line((21.15, -24.75), (23.75, -24.75))
            Line((23.75, -24.75), (23.75, -30.75))
            Line((23.75, -30.75), (21.15, -30.75))
            ThreePointArc((21.15, -30.75), (21.9434120658, -27.75), (21.15, -24.75))
        make_face(mode=Mode.SUBTRACT)
        with BuildLine():
            Line((24.75, -23.75), (24.75, -21.15))
            ThreePointArc((24.75, -21.15), (27.75, -21.9434120658), (30.75, -21.15))
            Line((30.75, -21.15), (30.75, -23.75))
            Line((30.75, -23.75), (24.75, -23.75))
        make_face(mode=Mode.SUBTRACT)
        with BuildLine():
            Line((-15.875, 30.55), (-15.875, 31.75))
            Line((-15.875, 31.75), (-23.75, 31.75))
            Line((-23.75, 31.75), (-23.75, 30.75))
            Line((-23.75, 30.75), (-21.15, 30.75))
            ThreePointArc((-21.15, 30.75), (-21.9434120658, 27.75), (-21.15, 24.75))
            Line((-21.15, 24.75), (-23.75, 24.75))
            Line((-23.75, 24.75), (-23.75, 23.75))
            Line((-23.75, 23.75), (-15.875, 23.75))
            Line((-15.875, 23.75), (-15.875, 24.95))
            ThreePointArc((-15.875, 24.95), (-18.675, 27.75), (-15.875, 30.55))
        make_face()
        Polygon((-23.75, 30.75), (-23.75, 31.75), (-31.75, 31.75), (-31.75, 23.75), (-30.75, 23.75), (-24.75, 23.75), (-23.75, 23.75), (-23.75, 24.75), align=None)
        with BuildLine():
            Line((-15.875, -31.75), (15.875, -31.75))
            Line((15.875, -31.75), (15.875, -30.55))
            ThreePointArc((15.875, -30.55), (13.075, -27.75), (15.875, -24.95))
            Line((15.875, -24.95), (15.875, -23.75))
            Line((15.875, -23.75), (-15.875, -23.75))
            Line((-15.875, -23.75), (-15.875, -24.95))
            ThreePointArc((-15.875, -24.95), (-13.8951010127, -25.7701010127), (-13.075, -27.75))
            ThreePointArc((-13.075, -27.75), (-13.8951010127, -29.7298989873), (-15.875, -30.55))
            Line((-15.875, -30.55), (-15.875, -31.75))
        make_face()
        with BuildLine():
            Line((-8, -30.75), (-10.6, -30.75))
            ThreePointArc((-10.6, -30.75), (-9.8065879342, -27.75), (-10.6, -24.75))
            Line((-10.6, -24.75), (-8, -24.75))
            Line((-8, -24.75), (-8, -30.75))
        make_face(mode=Mode.SUBTRACT)
        with BuildLine():
            Line((8, -30.75), (8, -24.75))
            Line((8, -24.75), (10.6, -24.75))
            ThreePointArc((10.6, -24.75), (9.8065879342, -27.75), (10.6, -30.75))
            Line((10.6, -30.75), (8, -30.75))
        make_face(mode=Mode.SUBTRACT)
        with BuildLine():
            Line((-23.75, 15.875), (-23.75, 23.75))
            Line((-23.75, 23.75), (-24.75, 23.75))
            Line((-24.75, 23.75), (-24.75, 21.15))
            ThreePointArc((-24.75, 21.15), (-27.75, 21.9434120658), (-30.75, 21.15))
            Line((-30.75, 21.15), (-30.75, 23.75))
            Line((-30.75, 23.75), (-31.75, 23.75))
            Line((-31.75, 23.75), (-31.75, 15.875))
            Line((-31.75, 15.875), (-30.55, 15.875))
            ThreePointArc((-30.55, 15.875), (-27.75, 18.675), (-24.95, 15.875))
            Line((-24.95, 15.875), (-23.75, 15.875))
        make_face()
        with BuildLine():
            Line((-31.75, -31.75), (-15.875, -31.75))
            Line((-15.875, -31.75), (-15.875, -30.55))
            ThreePointArc((-15.875, -30.55), (-18.675, -27.75), (-15.875, -24.95))
            Line((-15.875, -24.95), (-15.875, -23.75))
            Line((-15.875, -23.75), (-23.75, -23.75))
            Line((-23.75, -23.75), (-23.75, -15.875))
            Line((-23.75, -15.875), (-24.95, -15.875))
            ThreePointArc((-24.95, -15.875), (-27.75, -18.675), (-30.55, -15.875))
            Line((-30.55, -15.875), (-31.75, -15.875))
            Line((-31.75, -15.875), (-31.75, -31.75))
        make_face()
        with BuildLine():
            Line((-23.75, -30.75), (-23.75, -24.75))
            Line((-23.75, -24.75), (-21.15, -24.75))
            ThreePointArc((-21.15, -24.75), (-21.9434120658, -27.75), (-21.15, -30.75))
            Line((-21.15, -30.75), (-23.75, -30.75))
        make_face(mode=Mode.SUBTRACT)
        with BuildLine():
            ThreePointArc((-30.75, -21.15), (-27.75, -21.9434120658), (-24.75, -21.15))
            Line((-24.75, -21.15), (-24.75, -23.75))
            Line((-24.75, -23.75), (-30.75, -23.75))
            Line((-30.75, -23.75), (-30.75, -21.15))
        make_face(mode=Mode.SUBTRACT)
        with BuildLine():
            Line((-23.75, -15.875), (-23.75, 15.875))
            Line((-23.75, 15.875), (-24.95, 15.875))
            ThreePointArc((-24.95, 15.875), (-27.75, 13.075), (-30.55, 15.875))
            Line((-30.55, 15.875), (-31.75, 15.875))
            Line((-31.75, 15.875), (-31.75, -15.875))
            Line((-31.75, -15.875), (-30.55, -15.875))
            ThreePointArc((-30.55, -15.875), (-27.75, -13.075), (-24.95, -15.875))
            Line((-24.95, -15.875), (-23.75, -15.875))
        make_face()
        with BuildLine():
            Line((-24.75, -8), (-24.75, -10.6))
            ThreePointArc((-24.75, -10.6), (-27.75, -9.8065879342), (-30.75, -10.6))
            Line((-30.75, -10.6), (-30.75, -8))
            Line((-30.75, -8), (-24.75, -8))
        make_face(mode=Mode.SUBTRACT)
        with BuildLine():
            ThreePointArc((-30.75, 10.6), (-27.75, 9.8065879342), (-24.75, 10.6))
            Line((-24.75, 10.6), (-24.75, 8))
            Line((-24.75, 8), (-30.75, 8))
            Line((-30.75, 8), (-30.75, 10.6))
        make_face(mode=Mode.SUBTRACT)
        Circle(F0_R)
    extrude(amount=F2_DEPTH)


solid = f1.part
